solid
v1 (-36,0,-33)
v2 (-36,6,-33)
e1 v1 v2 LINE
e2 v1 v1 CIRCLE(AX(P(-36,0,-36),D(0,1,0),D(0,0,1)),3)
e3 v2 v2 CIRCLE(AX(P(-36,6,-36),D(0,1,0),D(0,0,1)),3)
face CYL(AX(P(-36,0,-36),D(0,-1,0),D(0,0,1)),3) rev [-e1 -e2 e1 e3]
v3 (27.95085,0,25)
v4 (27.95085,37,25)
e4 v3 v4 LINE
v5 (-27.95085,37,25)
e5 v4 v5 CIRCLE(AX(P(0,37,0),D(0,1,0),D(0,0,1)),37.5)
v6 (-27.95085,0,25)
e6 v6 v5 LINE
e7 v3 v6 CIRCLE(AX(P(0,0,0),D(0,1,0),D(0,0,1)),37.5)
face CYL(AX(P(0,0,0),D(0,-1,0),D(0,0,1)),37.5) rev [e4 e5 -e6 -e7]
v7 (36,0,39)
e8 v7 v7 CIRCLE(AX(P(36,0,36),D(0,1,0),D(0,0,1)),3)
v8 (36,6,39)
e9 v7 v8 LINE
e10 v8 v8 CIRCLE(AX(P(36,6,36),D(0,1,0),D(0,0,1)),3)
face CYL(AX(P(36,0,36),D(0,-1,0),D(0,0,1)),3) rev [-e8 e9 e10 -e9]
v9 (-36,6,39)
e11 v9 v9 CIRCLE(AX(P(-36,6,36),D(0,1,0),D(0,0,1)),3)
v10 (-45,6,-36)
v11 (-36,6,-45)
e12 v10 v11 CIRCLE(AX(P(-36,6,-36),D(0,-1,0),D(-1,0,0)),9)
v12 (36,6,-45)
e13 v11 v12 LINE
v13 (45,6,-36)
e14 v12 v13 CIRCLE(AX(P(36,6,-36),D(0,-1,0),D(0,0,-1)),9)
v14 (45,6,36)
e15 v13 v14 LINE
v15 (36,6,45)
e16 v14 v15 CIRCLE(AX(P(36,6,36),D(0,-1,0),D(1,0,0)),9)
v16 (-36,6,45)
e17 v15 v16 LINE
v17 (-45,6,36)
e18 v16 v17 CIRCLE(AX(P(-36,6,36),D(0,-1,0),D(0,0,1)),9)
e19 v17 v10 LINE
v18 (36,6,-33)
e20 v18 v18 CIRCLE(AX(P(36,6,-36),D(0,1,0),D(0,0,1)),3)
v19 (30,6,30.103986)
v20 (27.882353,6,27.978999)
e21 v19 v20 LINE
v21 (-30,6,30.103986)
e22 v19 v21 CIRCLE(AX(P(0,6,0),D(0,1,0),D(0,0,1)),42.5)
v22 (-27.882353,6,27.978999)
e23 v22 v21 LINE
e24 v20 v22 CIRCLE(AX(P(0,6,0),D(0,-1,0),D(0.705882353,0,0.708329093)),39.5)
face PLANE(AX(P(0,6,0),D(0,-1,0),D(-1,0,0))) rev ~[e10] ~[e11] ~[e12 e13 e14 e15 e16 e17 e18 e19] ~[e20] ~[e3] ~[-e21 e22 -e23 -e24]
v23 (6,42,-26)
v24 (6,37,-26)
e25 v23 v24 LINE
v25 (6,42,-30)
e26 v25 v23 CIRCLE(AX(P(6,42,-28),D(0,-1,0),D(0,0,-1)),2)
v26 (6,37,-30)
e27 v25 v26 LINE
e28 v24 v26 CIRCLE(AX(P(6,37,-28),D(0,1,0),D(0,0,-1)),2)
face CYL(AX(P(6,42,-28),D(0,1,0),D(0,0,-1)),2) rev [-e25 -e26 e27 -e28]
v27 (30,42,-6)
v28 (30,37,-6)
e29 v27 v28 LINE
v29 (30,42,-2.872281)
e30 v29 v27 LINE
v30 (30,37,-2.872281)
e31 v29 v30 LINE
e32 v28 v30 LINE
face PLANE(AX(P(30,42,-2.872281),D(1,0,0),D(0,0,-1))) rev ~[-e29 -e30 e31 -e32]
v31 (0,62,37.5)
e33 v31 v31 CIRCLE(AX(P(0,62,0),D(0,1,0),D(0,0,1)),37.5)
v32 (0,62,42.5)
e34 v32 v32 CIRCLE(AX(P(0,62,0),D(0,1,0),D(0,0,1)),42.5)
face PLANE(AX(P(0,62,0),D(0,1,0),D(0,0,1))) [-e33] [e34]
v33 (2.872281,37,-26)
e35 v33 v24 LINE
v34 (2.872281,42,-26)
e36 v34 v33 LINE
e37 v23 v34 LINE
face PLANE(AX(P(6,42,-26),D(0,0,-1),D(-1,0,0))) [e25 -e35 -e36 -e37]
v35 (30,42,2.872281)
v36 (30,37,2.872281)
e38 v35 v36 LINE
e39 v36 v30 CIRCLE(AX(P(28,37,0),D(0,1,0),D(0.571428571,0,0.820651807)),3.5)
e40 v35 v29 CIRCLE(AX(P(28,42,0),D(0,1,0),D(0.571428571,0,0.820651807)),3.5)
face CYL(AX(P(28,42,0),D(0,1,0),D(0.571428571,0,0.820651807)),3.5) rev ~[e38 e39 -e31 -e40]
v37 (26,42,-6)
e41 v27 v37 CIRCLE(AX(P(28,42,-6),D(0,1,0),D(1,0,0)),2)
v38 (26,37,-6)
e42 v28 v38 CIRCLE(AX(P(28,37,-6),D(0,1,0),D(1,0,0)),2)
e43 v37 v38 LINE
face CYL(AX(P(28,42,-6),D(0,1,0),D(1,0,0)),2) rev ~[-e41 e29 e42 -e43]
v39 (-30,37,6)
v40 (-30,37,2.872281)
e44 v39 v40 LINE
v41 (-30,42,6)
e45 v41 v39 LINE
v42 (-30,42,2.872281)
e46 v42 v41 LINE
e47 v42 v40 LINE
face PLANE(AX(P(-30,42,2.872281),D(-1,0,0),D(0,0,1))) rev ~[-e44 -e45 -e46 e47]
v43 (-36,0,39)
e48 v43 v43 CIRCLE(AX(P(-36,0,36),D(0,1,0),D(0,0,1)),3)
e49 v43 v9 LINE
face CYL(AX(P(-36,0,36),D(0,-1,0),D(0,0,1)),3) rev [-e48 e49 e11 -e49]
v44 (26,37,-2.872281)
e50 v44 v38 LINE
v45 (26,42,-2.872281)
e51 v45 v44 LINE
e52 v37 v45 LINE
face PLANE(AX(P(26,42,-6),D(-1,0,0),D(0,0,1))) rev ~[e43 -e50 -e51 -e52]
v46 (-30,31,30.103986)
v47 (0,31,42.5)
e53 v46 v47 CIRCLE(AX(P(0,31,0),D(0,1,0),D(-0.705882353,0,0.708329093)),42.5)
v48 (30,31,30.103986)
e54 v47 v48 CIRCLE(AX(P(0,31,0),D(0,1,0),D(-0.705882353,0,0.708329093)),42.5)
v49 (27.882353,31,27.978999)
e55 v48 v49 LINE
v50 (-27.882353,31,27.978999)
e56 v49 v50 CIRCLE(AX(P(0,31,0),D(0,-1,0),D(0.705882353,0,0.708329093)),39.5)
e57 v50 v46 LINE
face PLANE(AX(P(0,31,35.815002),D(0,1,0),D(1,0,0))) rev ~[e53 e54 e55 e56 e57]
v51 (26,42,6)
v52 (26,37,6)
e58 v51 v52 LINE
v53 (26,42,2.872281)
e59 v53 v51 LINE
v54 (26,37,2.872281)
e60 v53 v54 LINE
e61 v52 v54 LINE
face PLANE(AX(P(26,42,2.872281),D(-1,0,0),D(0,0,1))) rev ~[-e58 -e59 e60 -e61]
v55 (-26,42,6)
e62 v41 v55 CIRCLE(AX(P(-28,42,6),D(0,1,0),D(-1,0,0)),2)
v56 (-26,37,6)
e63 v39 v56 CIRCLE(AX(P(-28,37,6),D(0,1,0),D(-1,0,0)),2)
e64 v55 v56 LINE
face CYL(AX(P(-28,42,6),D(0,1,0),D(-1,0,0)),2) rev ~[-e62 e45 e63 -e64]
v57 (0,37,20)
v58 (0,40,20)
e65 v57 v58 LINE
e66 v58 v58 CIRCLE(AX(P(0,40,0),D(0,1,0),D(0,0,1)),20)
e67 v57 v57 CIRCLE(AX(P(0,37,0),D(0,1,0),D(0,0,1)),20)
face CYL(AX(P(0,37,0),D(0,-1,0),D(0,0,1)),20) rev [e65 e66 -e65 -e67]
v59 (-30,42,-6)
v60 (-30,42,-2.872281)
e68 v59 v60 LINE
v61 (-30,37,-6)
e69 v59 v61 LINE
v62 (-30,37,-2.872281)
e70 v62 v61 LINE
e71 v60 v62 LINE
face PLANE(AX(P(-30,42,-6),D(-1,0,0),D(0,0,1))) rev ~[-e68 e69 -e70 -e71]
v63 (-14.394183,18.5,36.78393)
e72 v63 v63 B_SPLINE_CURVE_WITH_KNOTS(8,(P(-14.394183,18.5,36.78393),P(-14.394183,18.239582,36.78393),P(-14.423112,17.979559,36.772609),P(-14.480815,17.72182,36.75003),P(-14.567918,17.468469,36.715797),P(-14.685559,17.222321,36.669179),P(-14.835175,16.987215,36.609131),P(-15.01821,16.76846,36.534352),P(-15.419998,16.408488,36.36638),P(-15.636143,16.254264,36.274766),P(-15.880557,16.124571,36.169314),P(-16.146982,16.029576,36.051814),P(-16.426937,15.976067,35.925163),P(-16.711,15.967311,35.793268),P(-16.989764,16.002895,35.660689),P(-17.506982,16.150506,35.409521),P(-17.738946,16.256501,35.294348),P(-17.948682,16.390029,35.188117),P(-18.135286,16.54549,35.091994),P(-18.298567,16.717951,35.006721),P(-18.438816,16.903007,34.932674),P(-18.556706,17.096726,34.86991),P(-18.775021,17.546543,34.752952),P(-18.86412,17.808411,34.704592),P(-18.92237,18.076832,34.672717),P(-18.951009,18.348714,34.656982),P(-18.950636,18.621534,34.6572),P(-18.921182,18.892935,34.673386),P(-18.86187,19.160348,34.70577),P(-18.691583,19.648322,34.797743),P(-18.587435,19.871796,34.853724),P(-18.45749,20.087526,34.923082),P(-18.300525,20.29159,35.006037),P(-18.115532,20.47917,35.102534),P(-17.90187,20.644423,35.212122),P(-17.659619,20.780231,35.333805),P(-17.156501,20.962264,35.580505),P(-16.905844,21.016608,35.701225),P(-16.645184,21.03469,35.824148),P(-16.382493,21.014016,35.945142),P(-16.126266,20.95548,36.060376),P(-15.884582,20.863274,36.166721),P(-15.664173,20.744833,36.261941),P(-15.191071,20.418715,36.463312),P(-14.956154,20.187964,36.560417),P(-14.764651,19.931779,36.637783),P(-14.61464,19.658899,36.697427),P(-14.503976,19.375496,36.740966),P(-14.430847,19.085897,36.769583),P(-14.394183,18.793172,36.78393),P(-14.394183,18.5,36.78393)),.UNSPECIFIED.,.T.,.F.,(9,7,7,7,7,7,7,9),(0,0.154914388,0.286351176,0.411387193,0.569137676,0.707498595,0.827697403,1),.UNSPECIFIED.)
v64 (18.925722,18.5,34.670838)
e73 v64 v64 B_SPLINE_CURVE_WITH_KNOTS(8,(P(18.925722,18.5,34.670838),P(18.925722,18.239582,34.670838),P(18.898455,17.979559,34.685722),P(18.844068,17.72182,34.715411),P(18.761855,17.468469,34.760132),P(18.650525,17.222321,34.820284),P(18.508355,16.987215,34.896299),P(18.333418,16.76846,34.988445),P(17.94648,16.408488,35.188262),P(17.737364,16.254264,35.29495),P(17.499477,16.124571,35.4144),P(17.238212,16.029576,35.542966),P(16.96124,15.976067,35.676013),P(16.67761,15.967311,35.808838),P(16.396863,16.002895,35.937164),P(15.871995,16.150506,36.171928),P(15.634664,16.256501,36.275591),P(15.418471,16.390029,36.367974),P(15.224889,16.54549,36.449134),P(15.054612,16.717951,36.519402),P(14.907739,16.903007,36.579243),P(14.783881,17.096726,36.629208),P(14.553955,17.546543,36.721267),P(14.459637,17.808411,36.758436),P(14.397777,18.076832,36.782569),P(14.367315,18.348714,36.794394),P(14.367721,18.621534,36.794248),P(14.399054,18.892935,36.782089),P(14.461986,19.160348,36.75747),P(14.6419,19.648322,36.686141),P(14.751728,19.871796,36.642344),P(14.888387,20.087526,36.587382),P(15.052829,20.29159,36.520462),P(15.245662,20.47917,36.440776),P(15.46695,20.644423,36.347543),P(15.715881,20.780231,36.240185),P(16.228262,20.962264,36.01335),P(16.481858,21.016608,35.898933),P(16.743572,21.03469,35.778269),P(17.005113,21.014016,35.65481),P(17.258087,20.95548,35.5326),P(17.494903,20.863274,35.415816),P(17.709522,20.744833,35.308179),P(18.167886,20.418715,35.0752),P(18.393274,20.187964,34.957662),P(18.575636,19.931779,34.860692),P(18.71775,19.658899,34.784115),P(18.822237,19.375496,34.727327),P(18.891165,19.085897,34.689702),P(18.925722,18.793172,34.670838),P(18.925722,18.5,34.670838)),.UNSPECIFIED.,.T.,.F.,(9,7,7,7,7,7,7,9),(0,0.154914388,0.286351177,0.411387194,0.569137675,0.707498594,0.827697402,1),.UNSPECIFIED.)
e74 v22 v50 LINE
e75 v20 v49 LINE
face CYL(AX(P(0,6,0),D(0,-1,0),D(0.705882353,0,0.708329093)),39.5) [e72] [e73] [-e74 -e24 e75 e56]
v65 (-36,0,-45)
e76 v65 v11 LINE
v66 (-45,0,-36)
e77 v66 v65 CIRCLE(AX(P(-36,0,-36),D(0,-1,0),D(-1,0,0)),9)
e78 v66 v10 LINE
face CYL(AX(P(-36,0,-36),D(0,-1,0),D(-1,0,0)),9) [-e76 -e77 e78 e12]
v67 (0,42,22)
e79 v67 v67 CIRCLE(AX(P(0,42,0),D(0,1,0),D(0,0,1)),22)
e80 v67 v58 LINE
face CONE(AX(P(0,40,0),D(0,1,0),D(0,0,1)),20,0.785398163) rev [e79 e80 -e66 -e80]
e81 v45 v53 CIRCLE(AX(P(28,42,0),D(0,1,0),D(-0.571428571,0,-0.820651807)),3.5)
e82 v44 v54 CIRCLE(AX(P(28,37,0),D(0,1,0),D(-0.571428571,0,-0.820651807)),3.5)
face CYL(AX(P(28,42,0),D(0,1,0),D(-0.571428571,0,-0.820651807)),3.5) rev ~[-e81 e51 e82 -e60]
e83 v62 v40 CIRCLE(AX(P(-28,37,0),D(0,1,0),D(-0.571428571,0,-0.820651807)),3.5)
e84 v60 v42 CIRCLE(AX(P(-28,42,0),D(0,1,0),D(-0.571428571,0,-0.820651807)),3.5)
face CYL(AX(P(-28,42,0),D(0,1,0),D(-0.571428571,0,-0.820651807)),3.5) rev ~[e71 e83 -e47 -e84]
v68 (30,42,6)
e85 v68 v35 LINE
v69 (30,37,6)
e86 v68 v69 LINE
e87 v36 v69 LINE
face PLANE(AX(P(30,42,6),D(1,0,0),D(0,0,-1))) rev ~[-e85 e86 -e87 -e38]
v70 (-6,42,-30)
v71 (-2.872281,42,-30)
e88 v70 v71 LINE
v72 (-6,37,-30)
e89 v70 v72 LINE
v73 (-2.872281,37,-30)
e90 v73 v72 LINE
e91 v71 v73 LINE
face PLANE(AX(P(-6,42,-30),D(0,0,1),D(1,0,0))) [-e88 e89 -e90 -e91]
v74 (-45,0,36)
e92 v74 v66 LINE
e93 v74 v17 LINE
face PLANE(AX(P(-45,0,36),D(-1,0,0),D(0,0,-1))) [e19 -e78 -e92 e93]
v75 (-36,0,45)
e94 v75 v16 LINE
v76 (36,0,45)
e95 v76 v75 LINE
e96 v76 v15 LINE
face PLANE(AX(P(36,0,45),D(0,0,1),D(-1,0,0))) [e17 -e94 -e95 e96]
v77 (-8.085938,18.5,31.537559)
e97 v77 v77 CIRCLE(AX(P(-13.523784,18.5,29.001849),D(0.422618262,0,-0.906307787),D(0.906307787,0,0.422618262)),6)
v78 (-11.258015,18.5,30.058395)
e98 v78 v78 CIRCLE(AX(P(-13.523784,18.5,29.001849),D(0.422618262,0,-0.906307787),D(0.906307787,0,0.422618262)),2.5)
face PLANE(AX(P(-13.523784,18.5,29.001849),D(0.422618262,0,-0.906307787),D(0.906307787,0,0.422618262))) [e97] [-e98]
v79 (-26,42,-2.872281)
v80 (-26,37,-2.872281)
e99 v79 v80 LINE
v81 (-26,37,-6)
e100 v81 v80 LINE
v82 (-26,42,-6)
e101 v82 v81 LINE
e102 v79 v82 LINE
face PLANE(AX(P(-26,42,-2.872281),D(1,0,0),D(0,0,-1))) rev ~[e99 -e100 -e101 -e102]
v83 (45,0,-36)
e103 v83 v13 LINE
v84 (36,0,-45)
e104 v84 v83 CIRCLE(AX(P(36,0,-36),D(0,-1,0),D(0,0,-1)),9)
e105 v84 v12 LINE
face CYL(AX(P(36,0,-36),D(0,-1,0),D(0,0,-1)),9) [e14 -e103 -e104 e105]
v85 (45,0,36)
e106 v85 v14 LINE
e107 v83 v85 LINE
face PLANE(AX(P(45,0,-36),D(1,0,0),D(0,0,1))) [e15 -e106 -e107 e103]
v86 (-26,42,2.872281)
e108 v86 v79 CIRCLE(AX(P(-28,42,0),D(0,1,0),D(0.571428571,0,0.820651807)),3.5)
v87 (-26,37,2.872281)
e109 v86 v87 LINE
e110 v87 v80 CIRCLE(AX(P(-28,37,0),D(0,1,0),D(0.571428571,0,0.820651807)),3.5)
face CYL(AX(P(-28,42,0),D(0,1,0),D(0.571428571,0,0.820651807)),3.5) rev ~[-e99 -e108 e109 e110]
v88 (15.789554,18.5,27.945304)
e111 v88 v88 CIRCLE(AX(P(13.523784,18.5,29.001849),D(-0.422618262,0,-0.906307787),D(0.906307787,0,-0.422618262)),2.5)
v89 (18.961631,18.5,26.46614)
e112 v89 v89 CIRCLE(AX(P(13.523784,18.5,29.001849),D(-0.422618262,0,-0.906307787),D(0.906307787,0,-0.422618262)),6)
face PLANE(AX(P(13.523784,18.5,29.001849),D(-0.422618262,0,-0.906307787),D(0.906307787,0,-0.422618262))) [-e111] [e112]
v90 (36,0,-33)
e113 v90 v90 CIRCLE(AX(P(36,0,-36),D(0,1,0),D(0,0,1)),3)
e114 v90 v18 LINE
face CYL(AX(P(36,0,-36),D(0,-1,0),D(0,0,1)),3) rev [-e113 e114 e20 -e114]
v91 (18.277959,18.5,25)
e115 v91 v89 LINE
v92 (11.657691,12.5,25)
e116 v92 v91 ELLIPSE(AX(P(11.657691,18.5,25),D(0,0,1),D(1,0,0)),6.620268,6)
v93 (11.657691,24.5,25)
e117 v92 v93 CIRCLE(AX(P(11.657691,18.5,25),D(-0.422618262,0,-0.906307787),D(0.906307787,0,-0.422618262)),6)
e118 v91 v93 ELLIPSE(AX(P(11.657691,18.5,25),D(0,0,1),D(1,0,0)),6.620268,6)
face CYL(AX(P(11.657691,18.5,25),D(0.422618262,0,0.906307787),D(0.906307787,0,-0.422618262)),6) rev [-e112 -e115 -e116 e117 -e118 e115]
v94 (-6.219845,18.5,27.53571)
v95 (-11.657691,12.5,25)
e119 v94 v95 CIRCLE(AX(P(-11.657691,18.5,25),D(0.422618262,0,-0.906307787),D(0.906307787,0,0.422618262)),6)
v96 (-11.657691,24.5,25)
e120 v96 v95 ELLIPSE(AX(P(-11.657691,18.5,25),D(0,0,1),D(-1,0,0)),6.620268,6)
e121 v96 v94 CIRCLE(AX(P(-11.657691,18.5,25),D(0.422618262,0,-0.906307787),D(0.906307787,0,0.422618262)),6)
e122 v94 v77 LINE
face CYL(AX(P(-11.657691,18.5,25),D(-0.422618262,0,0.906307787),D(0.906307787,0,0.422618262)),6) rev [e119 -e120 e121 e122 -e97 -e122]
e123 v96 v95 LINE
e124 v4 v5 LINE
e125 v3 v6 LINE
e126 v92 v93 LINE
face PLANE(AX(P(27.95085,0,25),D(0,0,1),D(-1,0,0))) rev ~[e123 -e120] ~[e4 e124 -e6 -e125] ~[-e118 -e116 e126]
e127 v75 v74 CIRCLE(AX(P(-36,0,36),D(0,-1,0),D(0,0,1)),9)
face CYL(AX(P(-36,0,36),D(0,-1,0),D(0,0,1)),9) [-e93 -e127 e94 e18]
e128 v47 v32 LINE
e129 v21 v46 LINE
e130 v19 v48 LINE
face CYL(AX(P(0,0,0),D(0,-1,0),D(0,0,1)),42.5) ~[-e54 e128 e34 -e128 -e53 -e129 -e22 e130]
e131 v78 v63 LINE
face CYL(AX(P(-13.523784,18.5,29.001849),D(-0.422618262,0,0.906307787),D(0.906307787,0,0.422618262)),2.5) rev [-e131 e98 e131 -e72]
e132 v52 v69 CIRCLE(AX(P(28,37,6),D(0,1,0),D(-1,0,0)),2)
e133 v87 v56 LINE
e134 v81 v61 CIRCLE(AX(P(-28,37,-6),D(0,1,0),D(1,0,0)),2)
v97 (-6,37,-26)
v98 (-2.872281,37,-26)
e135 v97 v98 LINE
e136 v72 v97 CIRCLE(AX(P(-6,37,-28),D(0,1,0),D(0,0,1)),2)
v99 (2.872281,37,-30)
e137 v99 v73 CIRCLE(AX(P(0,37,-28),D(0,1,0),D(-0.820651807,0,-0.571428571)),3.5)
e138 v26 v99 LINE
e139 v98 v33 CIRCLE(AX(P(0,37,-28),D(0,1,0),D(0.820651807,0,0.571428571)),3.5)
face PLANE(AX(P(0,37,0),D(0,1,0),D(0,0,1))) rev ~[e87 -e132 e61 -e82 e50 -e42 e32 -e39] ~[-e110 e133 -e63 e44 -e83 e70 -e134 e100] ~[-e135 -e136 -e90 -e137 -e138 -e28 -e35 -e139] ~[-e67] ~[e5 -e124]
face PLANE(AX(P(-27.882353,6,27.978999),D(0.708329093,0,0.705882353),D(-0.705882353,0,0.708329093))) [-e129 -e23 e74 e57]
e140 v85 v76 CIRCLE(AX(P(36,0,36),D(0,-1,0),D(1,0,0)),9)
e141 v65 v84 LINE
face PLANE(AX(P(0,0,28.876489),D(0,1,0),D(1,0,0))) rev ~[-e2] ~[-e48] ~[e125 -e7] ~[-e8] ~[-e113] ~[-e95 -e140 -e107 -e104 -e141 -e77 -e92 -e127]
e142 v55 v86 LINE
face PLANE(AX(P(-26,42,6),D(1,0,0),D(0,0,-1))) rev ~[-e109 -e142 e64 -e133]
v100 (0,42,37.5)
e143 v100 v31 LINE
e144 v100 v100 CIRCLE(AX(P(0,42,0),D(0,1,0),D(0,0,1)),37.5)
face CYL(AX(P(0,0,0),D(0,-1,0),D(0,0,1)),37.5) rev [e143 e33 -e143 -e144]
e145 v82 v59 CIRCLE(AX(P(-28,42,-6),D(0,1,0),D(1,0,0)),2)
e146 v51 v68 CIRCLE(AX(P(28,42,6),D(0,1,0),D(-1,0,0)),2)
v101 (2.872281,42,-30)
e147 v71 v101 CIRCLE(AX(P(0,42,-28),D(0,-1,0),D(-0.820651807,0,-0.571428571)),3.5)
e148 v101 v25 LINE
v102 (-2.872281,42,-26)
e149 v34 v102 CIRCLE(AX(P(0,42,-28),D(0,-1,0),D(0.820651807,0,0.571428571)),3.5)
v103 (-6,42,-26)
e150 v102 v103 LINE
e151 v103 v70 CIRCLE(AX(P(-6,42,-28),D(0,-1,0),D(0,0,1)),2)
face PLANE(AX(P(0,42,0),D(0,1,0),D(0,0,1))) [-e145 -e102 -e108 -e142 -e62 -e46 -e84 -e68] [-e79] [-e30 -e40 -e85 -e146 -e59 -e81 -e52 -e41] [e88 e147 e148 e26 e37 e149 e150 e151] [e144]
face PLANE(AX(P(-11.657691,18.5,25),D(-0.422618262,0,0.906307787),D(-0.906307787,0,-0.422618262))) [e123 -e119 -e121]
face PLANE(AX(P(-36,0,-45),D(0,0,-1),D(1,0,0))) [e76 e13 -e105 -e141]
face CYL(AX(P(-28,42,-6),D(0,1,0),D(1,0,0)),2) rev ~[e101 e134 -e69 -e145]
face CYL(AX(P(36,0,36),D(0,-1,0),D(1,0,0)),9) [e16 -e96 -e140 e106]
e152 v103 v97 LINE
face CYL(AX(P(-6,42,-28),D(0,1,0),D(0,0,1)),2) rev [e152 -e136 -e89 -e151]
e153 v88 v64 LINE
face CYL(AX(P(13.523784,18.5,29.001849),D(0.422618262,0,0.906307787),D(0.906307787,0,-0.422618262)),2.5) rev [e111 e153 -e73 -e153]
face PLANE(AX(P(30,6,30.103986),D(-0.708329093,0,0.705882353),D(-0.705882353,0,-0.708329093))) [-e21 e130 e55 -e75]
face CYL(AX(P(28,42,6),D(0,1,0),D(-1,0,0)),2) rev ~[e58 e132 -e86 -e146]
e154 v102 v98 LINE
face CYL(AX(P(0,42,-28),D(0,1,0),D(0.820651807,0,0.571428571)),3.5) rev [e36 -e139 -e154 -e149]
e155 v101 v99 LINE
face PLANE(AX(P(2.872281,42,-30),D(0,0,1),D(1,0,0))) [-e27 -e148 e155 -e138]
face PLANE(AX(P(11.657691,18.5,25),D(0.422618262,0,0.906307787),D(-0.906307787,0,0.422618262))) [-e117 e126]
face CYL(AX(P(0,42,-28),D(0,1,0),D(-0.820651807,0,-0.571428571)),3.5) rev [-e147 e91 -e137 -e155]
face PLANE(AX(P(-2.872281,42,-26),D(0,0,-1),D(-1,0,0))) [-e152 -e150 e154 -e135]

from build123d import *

# Parameters (mm, degrees)
SKETCH_1_R          = 42.5
SKETCH_1_R_2        = 3
EXTRUDE_1_DEPTH     = 6
SKETCH_1_3_R        = 42.5
SKETCH_1_3_R_2      = 37.5
EXTRUDE_2_DEPTH     = 62
EXTRUDE_START       = 37
SKETCH_1_5_R        = 37.5
SKETCH_1_5_R_2      = 20
EXTRUDE_3_DEPTH     = 5
CHAMFER_1_SIZE      = 2
EXTRUDE_4_DEPTH     = 37
CUT_EXTRUDE_2_DEPTH = 25
CUT_EXTRUDE_3_REACH = 78.25


with BuildPart() as part:
    # 草图1 → 凸台-拉伸1 (new body)
    with BuildSketch(Plane(origin=(0, 0, 0), x_dir=(1, 0, 0), z_dir=(0, 1, 0))):
        with BuildLine():
            Line((-36, 45), (36, 45))
            ThreePointArc((36, 45), (42.363961031, 42.363961031), (45, 36))
            Line((45, 36), (45, -36))
            ThreePointArc((45, -36), (42.363961031, -42.363961031), (36, -45))
            Line((36, -45), (-36, -45))
            ThreePointArc((-36, -45), (-42.363961031, -42.363961031), (-45, -36))
            Line((-45, -36), (-45, 36))
            ThreePointArc((-45, 36), (-42.363961031, 42.363961031), (-36, 45))
        make_face()
        with Locations(Location((0, 0, 0), (0, 0, 270))):
            Circle(SKETCH_1_R, mode=Mode.SUBTRACT)
        with Locations(Location((-36, 36, 0), (0, 0, 270))):
            Circle(SKETCH_1_R_2, mode=Mode.SUBTRACT)
        with Locations(Location((36, 36, 0), (0, 0, 270))):
            Circle(SKETCH_1_R_2, mode=Mode.SUBTRACT)
        with Locations(Location((36, -36, 0), (0, 0, 270))):
            Circle(SKETCH_1_R_2, mode=Mode.SUBTRACT)
        with Locations(Location((-36, -36, 0), (0, 0, 270))):
            Circle(SKETCH_1_R_2, mode=Mode.SUBTRACT)
    extrude(amount=EXTRUDE_1_DEPTH)

    # 草图1<3> → 凸台-拉伸2 (add)
    with BuildSketch(Plane(origin=(0, 0, 0), x_dir=(1, 0, 0), z_dir=(0, 1, 0))):
        with Locations(Location((0, 0, 0), (0, 0, 270))):
            Circle(SKETCH_1_3_R)
        with Locations(Location((0, 0, 0), (0, 0, 270))):
            Circle(SKETCH_1_3_R_2, mode=Mode.SUBTRACT)
    extrude(amount=EXTRUDE_2_DEPTH)

    # 草图1<5> → 凸台-拉伸3 (add)
    with BuildSketch(Plane(origin=(0, 0, 0), x_dir=(1, 0, 0), z_dir=(0, 1, 0)).offset(EXTRUDE_START)):
        with Locations(Location((0, 0, 0), (0, 0, 270))):
            Circle(SKETCH_1_5_R)
        with Locations(Location((0, 0, 0), (0, 0, 270))):
            Circle(SKETCH_1_5_R_2, mode=Mode.SUBTRACT)
    extrude(amount=EXTRUDE_3_DEPTH)

    # 倒角1
    chamfer_1_edges = [part.edges().sort_by_distance(p)[0] for p in [
        (0, 42, -20),
    ]]
    chamfer(chamfer_1_edges, length=CHAMFER_1_SIZE)

    # 草图1<6> → 凸台-拉伸4 (add)
    with BuildSketch(Plane(origin=(0, 0, 0), x_dir=(1, 0, 0), z_dir=(0, 1, 0))):
        with BuildLine():
            Line((27.950849719, -25), (-27.950849719, -25))
            ThreePointArc((-27.950849719, -25), (0, -37.5), (27.950849719, -25))
        make_face()
    extrude(amount=EXTRUDE_4_DEPTH)

    # 草图2 → 切除-拉伸2 (cut)
    with BuildSketch(Plane(origin=(0, 6, 0), x_dir=(1, 0, 0), z_dir=(0, 1, 0))):
        with BuildLine():
            Line((-27.882352941, -27.978999168), (-30, -30.103986447))
            ThreePointArc((-30, -30.103986447), (0, -42.5), (30, -30.103986447))
            Line((30, -30.103986447), (27.882352941, -27.978999168))
            ThreePointArc((27.882352941, -27.978999168), (0, -39.5), (-27.882352941, -27.978999168))
        make_face()
    extrude(amount=CUT_EXTRUDE_2_DEPTH, mode=Mode.SUBTRACT)

    # 草图3 → 切除-旋转1 (revolve, cut)
    with BuildSketch(Plane(origin=(0, 18.5, 0), x_dir=(1, 0, 0), z_dir=(0, 1, 0))):
        Polygon((11.657691454, -25), (17.095538176, -22.46429043), (18.961631098, -26.466139615), (15.789553843, -27.945303531), (20.195943791, -37.394837269), (17.930174324, -38.451382923), align=None)
    revolve(axis=Axis((17.930174324, 18.5, 38.451382923), (-0.42261826174070033, 0, -0.9063077870366495)), mode=Mode.SUBTRACT)

    # 草图3<4> → 切除-旋转2 (revolve, cut)
    with BuildSketch(Plane(origin=(0, 18.5, 0), x_dir=(1, 0, 0), z_dir=(0, 1, 0)), mode=Mode.PRIVATE) as cut_revolve_2_sk:
        Polygon((-20.195943791, -37.394837269), (-17.930174324, -38.451382923), (-11.657691454, -25), (-17.095538176, -22.46429043), (-18.961631098, -26.466139615), (-15.789553843, -27.945303531), align=None)
    revolve(cut_revolve_2_sk.sketch.rotate(Axis((-17.930174324, 18.5, 38.451382923), (0.42261826174069994, 0, -0.9063077870366497)), 180), axis=Axis((-17.930174324, 18.5, 38.451382923), (0.42261826174069994, 0, -0.9063077870366497)), mode=Mode.SUBTRACT)

    # 草图5 → 切除-拉伸3 (cut, up to next)
    with BuildSketch(Plane(origin=(0, 42, 0), x_dir=(1, 0, 0), z_dir=(0, 1, 0)), mode=Mode.PRIVATE) as cut_extrude_3_sk1:
        with BuildLine():
            Line((-6, 30), (-2.872281323, 30))
            ThreePointArc((-2.872281323, 30), (0, 31.5), (2.872281323, 30))
            Line((2.872281323, 30), (6, 30))
            ThreePointArc((6, 30), (8, 28), (6, 26))
            Line((6, 26), (2.872281323, 26))
            ThreePointArc((2.872281323, 26), (0, 24.5), (-2.872281323, 26))
            Line((-2.872281323, 26), (-6, 26))
            ThreePointArc((-6, 26), (-8, 28), (-6, 30))
        make_face()
    cut_extrude_3_tool1 = extrude(cut_extrude_3_sk1.sketch, amount=-CUT_EXTRUDE_3_REACH, mode=Mode.PRIVATE) & part.part
    # 草图5 → 切除-拉伸3 (cut, up to next)
    with BuildSketch(Plane(origin=(0, 42, 0), x_dir=(1, 0, 0), z_dir=(0, 1, 0)), mode=Mode.PRIVATE) as cut_extrude_3_sk2:
        with BuildLine():
            Line((26, 6), (26, 2.872281323))
            ThreePointArc((26, 2.872281323), (24.5, 0), (26, -2.872281323))
            Line((26, -2.872281323), (26, -6))
            ThreePointArc((26, -6), (28, -8), (30, -6))
            Line((30, -6), (30, -2.872281323))
            ThreePointArc((30, -2.872281323), (31.5, 0), (30, 2.872281323))
            Line((30, 2.872281323), (30, 6))
            ThreePointArc((30, 6), (28, 8), (26, 6))
        make_face()
    cut_extrude_3_tool2 = extrude(cut_extrude_3_sk2.sketch, amount=-CUT_EXTRUDE_3_REACH, mode=Mode.PRIVATE) & part.part
    # 草图5 → 切除-拉伸3 (cut, up to next)
    with BuildSketch(Plane(origin=(0, 42, 0), x_dir=(1, 0, 0), z_dir=(0, 1, 0)), mode=Mode.PRIVATE) as cut_extrude_3_sk3:
        with BuildLine():
            Line((-26, -6), (-26, -2.872281323))
            ThreePointArc((-26, -2.872281323), (-24.5, 0), (-26, 2.872281323))
            Line((-26, 2.872281323), (-26, 6))
            ThreePointArc((-26, 6), (-28, 8), (-30, 6))
            Line((-30, 6), (-30, 2.872281323))
            ThreePointArc((-30, 2.872281323), (-31.5, 0), (-30, -2.872281323))
            Line((-30, -2.872281323), (-30, -6))
            ThreePointArc((-30, -6), (-28, -8), (-26, -6))
        make_face()
    cut_extrude_3_tool3 = extrude(cut_extrude_3_sk3.sketch, amount=-CUT_EXTRUDE_3_REACH, mode=Mode.PRIVATE) & part.part
    add(cut_extrude_3_tool1.solids().sort_by_distance((0, 42, -28))[0], mode=Mode.SUBTRACT)
    add(cut_extrude_3_tool2.solids().sort_by_distance((28, 42, 0))[0], mode=Mode.SUBTRACT)
    add(cut_extrude_3_tool3.solids().sort_by_distance((-28, 42, 0))[0], mode=Mode.SUBTRACT)


solid = part.part
